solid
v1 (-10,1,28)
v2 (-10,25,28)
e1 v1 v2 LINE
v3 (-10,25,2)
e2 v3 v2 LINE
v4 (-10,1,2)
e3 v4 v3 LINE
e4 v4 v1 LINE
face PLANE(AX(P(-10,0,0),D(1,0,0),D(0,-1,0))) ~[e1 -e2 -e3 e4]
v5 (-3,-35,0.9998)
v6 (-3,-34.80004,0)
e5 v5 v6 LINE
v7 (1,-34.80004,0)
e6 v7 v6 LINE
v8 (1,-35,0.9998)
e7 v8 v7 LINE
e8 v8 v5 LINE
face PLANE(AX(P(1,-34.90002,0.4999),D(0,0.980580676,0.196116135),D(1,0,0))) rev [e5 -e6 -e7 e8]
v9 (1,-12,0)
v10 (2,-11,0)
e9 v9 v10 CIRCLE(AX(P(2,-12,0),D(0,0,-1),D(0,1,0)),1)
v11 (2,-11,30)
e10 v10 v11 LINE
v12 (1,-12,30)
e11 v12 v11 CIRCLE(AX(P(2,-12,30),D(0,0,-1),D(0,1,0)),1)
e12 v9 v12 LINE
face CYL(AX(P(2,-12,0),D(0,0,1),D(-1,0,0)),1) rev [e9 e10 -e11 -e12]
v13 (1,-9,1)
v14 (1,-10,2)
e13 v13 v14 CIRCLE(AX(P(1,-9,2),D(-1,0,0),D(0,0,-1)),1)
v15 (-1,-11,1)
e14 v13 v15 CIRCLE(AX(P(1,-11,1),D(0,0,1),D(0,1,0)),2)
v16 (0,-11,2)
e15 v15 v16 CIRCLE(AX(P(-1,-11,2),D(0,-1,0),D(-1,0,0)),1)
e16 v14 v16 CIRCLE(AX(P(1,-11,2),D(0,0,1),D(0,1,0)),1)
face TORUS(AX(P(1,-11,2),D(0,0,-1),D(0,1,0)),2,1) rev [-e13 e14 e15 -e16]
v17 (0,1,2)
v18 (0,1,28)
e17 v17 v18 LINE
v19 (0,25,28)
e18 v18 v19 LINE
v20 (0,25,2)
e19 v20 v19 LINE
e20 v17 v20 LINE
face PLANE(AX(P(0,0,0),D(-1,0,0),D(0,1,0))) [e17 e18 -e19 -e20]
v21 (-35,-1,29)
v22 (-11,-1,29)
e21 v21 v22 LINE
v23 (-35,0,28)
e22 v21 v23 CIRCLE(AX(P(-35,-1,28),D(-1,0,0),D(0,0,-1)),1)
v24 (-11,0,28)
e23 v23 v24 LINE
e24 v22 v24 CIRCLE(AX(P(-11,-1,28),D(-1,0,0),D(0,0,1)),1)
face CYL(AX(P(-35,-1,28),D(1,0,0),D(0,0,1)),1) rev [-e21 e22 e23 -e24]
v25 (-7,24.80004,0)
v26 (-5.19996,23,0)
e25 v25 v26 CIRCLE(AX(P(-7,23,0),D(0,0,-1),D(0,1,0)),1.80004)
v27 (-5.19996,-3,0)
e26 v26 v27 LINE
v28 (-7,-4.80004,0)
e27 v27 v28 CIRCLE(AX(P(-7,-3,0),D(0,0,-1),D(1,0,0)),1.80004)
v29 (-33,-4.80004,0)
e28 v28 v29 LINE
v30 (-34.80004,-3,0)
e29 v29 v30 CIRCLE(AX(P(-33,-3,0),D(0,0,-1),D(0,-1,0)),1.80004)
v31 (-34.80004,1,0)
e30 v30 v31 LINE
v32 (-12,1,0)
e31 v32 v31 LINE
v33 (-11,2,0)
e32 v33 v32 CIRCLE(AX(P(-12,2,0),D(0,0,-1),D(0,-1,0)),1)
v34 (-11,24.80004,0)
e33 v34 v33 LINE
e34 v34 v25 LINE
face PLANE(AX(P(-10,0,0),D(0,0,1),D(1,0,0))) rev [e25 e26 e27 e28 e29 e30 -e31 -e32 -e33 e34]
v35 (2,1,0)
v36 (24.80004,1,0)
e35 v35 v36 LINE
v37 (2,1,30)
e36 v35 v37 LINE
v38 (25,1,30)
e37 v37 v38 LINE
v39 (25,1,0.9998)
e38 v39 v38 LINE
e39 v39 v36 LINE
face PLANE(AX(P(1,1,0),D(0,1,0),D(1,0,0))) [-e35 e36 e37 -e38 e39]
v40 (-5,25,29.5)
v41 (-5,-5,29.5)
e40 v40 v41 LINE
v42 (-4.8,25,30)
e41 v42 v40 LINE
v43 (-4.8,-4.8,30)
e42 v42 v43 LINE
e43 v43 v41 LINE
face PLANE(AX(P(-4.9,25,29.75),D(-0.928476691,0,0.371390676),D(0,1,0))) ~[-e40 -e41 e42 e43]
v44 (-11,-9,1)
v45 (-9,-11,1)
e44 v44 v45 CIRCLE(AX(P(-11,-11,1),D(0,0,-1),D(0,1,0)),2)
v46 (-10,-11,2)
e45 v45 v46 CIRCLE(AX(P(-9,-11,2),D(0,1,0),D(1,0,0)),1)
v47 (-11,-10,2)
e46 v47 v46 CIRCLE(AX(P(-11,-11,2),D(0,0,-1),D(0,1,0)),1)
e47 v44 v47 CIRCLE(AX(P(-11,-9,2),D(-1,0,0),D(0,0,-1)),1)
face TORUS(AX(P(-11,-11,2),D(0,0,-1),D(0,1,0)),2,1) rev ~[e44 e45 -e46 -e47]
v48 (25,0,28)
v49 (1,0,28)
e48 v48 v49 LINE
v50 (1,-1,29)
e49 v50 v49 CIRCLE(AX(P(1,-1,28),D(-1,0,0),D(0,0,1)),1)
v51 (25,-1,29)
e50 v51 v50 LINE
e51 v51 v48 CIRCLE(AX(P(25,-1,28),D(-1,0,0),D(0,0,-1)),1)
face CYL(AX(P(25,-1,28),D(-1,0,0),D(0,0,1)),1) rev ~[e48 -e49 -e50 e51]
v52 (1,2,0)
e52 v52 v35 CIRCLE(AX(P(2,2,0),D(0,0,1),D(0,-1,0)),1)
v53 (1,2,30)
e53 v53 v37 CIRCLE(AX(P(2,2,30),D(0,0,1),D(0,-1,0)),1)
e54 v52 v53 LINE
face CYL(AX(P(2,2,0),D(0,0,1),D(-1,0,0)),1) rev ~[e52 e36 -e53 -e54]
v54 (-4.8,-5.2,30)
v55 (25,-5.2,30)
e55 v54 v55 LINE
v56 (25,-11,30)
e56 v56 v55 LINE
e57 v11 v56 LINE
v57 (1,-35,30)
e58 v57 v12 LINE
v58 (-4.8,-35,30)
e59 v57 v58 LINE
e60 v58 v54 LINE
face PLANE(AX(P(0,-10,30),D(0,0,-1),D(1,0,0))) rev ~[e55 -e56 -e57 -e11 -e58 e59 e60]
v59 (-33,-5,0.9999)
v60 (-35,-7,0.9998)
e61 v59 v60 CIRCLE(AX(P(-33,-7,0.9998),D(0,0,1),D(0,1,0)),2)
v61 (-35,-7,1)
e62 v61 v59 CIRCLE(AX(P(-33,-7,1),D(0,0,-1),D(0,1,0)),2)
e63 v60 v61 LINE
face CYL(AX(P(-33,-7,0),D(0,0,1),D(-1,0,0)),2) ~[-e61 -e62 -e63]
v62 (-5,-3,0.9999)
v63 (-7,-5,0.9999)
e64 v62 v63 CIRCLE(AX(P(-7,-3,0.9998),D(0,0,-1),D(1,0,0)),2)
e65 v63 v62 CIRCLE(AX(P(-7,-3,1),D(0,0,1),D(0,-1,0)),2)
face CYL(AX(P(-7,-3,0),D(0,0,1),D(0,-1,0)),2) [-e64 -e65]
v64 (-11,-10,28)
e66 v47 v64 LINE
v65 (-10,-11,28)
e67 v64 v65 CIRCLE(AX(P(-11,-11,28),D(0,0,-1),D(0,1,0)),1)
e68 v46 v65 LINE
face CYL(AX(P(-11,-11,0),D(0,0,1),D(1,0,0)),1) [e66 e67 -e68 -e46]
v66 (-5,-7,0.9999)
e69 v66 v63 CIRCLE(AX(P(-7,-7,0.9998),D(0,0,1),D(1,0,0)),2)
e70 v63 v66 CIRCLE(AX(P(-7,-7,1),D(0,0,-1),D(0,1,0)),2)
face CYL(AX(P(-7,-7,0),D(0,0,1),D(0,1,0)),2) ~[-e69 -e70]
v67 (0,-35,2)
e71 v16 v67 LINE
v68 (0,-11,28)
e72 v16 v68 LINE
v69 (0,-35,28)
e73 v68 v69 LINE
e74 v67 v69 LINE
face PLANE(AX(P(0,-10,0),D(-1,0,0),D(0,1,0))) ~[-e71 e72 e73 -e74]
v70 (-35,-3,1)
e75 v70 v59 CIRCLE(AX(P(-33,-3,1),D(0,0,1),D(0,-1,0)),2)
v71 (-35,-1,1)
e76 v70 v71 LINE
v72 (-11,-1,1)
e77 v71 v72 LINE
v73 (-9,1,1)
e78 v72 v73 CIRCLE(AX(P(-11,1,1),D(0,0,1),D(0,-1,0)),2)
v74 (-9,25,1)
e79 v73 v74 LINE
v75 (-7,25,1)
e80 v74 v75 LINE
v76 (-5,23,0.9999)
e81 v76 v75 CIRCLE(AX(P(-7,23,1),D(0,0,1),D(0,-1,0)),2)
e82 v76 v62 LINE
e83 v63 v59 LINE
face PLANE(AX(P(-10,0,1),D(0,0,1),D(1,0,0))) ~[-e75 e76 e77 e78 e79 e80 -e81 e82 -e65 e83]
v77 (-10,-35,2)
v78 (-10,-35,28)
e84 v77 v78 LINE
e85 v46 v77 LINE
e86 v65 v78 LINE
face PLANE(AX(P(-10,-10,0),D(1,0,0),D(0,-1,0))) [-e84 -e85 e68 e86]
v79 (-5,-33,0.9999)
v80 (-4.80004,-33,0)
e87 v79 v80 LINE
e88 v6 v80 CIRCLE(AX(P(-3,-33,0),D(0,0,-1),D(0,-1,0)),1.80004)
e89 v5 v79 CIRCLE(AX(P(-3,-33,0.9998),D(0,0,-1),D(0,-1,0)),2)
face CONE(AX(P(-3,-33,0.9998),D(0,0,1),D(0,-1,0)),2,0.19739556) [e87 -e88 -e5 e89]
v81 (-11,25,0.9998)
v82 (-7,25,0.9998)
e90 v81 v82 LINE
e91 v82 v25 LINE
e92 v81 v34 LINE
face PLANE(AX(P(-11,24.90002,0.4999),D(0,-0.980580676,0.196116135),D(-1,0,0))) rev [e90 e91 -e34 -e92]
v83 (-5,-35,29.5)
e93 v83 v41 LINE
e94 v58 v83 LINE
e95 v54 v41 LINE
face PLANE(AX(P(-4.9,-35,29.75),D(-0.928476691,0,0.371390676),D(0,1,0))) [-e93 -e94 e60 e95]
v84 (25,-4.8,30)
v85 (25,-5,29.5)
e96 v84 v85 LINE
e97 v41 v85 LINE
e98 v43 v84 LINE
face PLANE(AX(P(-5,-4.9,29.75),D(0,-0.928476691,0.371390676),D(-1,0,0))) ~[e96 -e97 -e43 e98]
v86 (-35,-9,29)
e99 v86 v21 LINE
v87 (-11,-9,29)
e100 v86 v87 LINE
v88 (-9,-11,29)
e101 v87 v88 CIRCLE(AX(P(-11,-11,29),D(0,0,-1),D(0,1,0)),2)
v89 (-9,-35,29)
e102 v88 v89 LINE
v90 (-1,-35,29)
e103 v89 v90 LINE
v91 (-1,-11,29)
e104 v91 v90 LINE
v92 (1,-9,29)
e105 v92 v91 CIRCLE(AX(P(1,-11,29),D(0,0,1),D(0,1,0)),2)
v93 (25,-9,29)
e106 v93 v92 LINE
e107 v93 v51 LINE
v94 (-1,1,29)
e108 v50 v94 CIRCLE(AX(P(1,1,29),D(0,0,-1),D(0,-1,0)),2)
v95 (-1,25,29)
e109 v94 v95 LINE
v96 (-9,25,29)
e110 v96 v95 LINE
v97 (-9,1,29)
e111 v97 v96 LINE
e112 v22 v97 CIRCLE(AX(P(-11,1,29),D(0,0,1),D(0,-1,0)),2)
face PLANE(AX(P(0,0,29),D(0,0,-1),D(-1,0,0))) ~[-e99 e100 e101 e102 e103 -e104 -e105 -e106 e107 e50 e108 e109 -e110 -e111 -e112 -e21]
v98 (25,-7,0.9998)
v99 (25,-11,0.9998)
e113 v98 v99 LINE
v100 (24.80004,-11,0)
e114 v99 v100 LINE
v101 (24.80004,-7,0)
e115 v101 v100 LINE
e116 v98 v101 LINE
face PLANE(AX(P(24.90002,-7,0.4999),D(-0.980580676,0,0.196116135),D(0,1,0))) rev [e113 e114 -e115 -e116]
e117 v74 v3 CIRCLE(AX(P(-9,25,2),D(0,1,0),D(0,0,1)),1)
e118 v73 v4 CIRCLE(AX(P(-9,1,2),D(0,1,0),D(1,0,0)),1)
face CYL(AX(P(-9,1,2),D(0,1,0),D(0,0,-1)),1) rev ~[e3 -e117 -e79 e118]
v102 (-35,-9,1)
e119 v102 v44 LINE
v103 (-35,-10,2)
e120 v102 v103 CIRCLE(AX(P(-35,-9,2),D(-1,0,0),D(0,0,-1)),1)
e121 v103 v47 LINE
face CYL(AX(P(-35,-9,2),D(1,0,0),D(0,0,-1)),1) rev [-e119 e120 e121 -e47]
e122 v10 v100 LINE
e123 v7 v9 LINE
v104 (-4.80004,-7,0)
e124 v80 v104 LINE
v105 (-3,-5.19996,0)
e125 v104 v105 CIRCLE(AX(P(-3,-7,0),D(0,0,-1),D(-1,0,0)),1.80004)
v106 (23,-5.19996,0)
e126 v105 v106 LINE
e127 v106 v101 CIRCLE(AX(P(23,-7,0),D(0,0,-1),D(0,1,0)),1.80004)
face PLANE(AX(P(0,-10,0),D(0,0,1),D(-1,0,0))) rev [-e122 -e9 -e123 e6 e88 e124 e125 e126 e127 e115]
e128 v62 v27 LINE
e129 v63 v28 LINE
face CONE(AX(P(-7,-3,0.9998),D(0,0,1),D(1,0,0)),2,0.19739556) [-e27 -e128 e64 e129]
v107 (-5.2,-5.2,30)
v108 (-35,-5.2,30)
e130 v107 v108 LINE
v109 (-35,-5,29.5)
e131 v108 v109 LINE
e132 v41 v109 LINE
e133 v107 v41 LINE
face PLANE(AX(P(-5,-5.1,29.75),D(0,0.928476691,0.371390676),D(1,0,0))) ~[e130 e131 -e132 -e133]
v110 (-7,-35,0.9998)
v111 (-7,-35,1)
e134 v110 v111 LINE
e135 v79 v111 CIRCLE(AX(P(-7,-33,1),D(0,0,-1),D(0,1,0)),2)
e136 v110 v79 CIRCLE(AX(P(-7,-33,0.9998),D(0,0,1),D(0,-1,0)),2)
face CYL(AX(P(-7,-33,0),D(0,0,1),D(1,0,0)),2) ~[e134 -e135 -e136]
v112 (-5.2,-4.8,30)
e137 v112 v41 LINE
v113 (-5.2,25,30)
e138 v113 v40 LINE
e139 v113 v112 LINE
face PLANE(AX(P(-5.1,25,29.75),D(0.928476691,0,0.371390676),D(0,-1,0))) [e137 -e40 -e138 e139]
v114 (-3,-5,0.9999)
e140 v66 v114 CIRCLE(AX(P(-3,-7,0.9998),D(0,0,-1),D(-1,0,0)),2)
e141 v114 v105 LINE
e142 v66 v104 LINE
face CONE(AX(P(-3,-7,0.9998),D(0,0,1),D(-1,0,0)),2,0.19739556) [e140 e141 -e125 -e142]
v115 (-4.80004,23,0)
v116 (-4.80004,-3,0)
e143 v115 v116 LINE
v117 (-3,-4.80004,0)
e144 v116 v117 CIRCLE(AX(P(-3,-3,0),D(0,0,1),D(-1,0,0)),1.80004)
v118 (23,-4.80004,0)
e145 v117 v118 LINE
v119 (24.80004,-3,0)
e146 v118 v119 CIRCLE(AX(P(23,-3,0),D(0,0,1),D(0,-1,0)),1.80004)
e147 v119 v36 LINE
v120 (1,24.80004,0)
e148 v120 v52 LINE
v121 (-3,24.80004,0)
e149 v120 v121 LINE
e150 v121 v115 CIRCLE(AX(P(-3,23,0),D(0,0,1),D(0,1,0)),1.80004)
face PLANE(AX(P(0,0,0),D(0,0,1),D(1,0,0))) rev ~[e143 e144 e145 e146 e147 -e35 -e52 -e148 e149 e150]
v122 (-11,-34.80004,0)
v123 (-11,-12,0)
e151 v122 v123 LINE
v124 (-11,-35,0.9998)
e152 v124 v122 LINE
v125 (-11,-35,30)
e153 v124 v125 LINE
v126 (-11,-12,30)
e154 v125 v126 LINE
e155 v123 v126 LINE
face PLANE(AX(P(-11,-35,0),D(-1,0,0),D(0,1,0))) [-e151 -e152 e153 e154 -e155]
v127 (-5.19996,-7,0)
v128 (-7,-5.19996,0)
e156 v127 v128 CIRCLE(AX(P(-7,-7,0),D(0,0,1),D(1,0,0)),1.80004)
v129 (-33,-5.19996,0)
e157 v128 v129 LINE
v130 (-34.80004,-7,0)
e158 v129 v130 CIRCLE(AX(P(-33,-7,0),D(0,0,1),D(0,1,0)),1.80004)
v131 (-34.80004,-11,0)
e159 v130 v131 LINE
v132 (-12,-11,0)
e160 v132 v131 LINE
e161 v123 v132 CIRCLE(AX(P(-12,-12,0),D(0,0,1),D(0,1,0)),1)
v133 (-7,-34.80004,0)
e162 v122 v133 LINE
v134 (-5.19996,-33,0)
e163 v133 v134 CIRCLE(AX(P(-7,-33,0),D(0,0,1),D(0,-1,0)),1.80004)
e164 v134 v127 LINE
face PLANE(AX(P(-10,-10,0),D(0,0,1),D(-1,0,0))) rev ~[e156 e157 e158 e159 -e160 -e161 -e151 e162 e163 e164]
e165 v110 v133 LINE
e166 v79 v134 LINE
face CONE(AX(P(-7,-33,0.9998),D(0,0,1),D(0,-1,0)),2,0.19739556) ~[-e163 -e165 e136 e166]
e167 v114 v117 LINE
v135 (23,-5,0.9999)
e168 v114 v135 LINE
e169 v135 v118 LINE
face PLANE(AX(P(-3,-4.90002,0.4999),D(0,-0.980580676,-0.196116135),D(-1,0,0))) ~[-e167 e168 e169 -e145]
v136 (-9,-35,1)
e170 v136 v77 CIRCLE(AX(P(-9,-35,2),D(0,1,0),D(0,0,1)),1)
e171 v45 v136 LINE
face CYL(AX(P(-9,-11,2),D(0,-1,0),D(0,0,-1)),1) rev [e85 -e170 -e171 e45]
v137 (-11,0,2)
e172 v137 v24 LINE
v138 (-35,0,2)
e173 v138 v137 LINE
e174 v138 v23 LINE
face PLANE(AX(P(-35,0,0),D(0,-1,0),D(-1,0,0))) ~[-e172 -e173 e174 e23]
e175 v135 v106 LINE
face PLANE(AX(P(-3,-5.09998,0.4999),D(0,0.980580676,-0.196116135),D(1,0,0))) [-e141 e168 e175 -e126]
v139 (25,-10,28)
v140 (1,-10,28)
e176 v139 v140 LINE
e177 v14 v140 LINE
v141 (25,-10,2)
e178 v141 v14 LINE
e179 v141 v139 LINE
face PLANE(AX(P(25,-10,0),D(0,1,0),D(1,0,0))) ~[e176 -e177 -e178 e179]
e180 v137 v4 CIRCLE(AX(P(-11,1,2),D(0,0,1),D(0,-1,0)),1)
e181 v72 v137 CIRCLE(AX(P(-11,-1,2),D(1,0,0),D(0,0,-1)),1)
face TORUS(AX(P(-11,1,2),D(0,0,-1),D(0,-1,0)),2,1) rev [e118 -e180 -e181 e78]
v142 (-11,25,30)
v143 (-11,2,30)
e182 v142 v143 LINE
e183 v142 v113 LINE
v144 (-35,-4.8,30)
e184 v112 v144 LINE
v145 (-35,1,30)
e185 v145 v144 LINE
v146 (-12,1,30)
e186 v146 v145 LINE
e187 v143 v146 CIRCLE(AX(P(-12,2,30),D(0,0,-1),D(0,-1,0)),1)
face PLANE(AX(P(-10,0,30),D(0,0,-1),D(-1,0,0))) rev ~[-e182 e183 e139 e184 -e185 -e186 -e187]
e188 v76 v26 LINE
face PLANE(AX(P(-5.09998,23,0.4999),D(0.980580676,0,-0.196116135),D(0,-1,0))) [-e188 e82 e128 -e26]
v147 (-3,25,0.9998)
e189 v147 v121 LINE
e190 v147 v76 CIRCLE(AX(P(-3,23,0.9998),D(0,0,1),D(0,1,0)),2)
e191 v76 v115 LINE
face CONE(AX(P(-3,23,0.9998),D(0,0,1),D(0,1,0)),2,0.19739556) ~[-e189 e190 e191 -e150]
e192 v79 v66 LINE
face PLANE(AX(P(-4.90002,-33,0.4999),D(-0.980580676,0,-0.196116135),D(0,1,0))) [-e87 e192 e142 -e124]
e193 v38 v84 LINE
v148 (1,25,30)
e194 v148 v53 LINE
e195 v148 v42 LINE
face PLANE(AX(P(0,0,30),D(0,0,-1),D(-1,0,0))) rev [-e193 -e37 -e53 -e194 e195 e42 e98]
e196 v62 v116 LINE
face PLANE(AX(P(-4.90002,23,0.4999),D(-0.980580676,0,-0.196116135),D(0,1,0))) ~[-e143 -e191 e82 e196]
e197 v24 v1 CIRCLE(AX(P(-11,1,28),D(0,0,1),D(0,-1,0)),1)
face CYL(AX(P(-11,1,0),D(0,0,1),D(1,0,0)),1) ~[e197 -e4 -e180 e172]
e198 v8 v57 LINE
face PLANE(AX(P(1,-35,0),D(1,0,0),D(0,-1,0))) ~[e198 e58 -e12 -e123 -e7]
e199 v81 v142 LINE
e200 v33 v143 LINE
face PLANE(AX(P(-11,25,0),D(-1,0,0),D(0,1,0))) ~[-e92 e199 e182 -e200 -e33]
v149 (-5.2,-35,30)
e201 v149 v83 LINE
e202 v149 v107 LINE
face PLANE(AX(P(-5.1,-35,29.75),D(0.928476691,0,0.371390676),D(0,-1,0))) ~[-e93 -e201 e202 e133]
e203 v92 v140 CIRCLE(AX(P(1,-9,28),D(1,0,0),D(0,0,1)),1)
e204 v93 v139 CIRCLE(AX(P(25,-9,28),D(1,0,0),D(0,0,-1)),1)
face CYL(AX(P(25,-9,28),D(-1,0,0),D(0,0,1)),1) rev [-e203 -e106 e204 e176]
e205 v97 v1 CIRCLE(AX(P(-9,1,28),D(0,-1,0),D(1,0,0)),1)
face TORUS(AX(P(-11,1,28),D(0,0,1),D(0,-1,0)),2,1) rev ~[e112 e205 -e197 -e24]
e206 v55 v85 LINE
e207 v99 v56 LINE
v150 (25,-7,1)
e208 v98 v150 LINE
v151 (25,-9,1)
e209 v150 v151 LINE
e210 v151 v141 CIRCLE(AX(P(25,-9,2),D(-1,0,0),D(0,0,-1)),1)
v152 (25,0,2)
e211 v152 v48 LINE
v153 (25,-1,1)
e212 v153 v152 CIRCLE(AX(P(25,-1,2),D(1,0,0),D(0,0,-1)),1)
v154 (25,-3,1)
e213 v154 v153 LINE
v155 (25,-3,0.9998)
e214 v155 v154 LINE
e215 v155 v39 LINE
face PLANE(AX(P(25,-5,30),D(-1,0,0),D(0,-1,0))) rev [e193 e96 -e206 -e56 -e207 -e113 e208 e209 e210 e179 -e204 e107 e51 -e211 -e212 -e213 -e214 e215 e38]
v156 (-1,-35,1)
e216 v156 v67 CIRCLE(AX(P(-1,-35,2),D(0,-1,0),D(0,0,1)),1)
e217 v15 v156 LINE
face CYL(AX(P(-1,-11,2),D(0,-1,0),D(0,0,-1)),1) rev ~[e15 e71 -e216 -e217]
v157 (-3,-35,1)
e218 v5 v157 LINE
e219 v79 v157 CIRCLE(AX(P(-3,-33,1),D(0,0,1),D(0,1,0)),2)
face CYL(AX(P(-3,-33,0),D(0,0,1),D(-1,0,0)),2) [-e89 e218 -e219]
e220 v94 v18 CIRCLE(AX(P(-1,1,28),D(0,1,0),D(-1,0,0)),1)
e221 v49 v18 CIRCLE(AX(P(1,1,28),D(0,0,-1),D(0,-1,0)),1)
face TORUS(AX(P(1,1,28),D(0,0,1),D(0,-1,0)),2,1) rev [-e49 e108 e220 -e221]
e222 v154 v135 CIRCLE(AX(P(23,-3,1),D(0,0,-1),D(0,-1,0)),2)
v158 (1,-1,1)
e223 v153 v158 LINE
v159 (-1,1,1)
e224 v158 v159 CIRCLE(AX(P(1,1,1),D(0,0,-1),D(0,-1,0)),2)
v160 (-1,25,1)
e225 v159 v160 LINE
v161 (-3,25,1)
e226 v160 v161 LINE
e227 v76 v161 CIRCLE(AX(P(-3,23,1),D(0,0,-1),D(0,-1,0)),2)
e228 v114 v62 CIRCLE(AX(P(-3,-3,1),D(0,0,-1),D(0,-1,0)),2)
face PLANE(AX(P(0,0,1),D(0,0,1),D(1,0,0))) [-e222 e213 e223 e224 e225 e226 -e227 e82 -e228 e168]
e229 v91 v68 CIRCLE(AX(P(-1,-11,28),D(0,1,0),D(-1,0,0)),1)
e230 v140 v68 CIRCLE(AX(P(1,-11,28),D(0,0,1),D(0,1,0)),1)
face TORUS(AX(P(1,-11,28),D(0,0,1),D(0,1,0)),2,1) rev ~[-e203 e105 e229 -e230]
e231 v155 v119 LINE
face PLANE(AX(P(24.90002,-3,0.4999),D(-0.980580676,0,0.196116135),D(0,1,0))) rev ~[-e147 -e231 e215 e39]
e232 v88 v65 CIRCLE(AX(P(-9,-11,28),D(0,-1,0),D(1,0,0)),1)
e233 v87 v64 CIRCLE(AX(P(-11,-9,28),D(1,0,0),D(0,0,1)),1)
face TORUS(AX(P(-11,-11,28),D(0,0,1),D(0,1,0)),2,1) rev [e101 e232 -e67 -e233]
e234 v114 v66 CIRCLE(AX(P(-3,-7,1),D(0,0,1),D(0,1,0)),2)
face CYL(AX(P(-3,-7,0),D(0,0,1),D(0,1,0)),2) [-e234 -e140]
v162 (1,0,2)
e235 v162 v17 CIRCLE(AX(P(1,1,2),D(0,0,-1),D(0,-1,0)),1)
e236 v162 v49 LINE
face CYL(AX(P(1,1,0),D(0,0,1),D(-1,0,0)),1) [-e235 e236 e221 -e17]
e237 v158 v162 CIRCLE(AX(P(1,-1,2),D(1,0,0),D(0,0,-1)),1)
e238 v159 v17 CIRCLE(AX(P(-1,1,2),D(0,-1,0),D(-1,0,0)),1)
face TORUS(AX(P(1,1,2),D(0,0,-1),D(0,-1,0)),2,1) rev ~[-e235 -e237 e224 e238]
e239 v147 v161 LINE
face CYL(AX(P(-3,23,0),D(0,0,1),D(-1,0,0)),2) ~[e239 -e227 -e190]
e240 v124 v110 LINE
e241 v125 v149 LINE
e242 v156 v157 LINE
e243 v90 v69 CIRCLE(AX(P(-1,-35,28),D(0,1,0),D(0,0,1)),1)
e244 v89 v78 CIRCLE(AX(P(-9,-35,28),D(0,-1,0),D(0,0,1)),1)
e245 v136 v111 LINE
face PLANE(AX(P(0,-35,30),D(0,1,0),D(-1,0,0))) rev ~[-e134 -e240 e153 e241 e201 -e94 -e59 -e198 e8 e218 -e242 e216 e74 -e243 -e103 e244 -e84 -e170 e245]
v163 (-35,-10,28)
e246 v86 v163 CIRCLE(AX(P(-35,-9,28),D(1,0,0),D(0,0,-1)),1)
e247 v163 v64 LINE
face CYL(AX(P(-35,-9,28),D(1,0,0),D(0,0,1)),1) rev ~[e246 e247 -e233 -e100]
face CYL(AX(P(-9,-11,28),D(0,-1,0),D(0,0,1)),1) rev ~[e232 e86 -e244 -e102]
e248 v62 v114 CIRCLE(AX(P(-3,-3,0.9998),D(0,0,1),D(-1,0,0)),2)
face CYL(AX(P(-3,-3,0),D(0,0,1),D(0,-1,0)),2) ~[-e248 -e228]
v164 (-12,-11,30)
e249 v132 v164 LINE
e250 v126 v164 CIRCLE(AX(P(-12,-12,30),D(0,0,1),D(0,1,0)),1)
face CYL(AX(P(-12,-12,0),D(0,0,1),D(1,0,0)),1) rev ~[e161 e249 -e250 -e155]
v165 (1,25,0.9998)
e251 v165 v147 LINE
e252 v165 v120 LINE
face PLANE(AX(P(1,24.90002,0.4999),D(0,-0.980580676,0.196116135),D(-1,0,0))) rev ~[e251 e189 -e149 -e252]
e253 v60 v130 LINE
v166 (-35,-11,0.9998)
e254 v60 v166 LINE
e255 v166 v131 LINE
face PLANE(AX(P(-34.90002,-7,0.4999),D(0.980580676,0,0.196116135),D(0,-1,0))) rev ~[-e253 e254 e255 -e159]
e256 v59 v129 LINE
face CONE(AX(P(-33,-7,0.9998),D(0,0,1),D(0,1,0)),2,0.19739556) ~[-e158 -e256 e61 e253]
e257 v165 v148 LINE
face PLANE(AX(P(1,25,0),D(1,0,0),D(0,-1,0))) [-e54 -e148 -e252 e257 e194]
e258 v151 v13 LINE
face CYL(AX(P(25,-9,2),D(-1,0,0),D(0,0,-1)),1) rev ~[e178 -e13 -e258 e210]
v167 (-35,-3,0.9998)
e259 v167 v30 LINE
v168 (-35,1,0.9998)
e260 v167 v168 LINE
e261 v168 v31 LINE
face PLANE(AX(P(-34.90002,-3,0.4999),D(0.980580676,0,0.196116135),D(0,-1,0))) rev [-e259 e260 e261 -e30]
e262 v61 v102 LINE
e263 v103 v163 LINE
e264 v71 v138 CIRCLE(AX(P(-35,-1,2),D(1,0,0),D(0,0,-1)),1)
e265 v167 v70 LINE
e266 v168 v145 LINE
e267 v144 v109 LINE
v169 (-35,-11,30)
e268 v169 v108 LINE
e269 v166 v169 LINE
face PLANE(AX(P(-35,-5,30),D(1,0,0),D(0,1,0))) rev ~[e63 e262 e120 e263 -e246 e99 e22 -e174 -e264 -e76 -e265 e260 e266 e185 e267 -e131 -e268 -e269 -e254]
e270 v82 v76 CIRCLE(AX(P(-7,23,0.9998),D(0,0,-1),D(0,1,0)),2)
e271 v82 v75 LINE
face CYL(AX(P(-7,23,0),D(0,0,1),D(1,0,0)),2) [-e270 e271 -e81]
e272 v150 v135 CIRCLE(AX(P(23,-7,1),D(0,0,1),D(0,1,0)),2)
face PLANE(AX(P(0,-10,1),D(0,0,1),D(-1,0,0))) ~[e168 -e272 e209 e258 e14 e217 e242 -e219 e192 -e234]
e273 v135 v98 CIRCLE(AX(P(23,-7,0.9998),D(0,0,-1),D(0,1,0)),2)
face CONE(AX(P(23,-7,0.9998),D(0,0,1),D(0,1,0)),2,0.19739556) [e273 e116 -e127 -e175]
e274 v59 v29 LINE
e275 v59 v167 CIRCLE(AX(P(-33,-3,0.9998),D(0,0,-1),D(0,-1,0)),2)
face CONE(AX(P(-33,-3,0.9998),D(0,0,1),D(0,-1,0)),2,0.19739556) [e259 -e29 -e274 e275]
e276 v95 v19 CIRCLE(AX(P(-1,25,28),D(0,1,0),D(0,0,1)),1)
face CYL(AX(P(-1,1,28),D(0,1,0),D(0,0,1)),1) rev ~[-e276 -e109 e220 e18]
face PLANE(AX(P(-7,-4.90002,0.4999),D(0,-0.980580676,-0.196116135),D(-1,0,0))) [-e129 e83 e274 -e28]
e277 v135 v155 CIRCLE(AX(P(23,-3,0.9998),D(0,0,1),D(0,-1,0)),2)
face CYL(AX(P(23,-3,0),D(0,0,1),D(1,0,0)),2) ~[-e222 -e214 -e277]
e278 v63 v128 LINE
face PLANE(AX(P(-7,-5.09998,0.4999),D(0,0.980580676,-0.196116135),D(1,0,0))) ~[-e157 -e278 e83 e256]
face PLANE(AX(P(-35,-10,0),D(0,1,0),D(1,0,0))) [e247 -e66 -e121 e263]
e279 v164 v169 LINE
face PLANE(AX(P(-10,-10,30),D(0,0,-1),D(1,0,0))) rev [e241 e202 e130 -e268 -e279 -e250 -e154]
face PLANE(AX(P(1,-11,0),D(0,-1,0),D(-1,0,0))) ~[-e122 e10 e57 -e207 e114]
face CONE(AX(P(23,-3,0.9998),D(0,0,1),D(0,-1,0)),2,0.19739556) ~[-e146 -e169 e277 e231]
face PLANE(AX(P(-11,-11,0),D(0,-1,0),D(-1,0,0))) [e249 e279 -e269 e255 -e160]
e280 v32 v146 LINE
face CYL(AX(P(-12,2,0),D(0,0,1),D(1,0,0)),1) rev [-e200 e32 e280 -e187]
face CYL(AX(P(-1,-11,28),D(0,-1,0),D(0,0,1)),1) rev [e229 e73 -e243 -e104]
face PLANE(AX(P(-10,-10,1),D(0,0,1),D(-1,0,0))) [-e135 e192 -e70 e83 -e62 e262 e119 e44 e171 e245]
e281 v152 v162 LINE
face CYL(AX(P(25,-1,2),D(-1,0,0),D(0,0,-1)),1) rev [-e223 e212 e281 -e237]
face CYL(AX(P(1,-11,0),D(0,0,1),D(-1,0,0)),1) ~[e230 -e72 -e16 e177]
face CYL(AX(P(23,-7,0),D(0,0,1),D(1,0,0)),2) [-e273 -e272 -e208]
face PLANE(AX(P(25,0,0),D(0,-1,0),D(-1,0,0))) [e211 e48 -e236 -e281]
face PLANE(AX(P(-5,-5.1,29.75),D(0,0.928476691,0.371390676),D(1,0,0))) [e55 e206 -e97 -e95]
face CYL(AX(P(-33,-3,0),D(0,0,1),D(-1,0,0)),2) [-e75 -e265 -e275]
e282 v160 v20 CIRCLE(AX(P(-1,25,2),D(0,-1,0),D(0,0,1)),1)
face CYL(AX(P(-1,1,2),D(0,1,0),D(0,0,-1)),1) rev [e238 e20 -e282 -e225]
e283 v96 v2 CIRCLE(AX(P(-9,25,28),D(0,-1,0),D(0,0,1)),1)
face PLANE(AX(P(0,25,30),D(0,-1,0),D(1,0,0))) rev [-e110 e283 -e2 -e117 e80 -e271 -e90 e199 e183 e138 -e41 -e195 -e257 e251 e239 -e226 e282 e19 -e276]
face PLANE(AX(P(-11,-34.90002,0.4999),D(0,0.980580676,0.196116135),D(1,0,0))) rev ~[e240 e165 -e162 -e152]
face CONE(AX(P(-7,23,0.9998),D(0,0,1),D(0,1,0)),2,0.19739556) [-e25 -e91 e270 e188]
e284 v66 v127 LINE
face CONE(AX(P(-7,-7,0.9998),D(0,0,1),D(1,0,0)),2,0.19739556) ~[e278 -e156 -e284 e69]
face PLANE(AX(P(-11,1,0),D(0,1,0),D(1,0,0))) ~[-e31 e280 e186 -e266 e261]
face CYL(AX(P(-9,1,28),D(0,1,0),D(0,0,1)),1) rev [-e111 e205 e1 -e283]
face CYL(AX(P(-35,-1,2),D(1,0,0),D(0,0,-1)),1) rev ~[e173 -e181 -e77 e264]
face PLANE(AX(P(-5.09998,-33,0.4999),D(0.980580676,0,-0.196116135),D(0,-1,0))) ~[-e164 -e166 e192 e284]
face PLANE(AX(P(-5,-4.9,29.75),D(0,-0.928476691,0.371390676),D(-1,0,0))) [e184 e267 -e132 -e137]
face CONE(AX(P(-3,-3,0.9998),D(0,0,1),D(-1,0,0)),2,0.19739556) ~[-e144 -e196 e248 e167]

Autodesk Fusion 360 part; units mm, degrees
sketch "Sketch1" plane through (0, 0, 0) normal (0, 0, 1) x (1, 0, 0)
  line L0 (0, 0) -> (0, 25)
  line L1 (0, 25) -> (1, 25)
  line L2 (1, 25) -> (1, 1)
  line L3 (1, 1) -> (25, 1)
  line L4 (25, 1) -> (25, 0)
  line L5 (25, 0) -> (0, 0)
  dimension "d1" = 1
  dimension "d2" = 25
  dimension "d3" = 25
extrude "Extrude2" add sketch "Sketch1" along normal blind 30
fillet "Fillet2" radius 1 2 edges at (1, 1, 15) (0, 0, 15)
ref_plane "WorkPlane1" through (12.5, 12.5, 15) normal (0, 0, 1) x (1, 0, 0)
sketch "Sketch3" plane through (0, 0, 0) normal (0, 0, 1) x (1, 0, 0)
  arc A0 (0, 1) -> (1, 0) centre (1, 1) ccw
  line L0 (0, 1) -> (0, 25)
  line L1 (0, 25) -> (1, 25)
  line L2 (1, 25) -> (1, 2)
  arc A1 (1, 2) -> (2, 1) centre (2, 2) ccw
  line L3 (2, 1) -> (25, 1)
  line L4 (25, 1) -> (25, 0)
  line L5 (25, 0) -> (1, 0)
  line L6 (0, 25) -> (-5, 25)
  line L7 (-5, 25) -> (-5, -5)
  line L8 (-5, -5) -> (25, -5)
  line L9 (25, -5) -> (25, 0)
  dimension "d16" = 5
extrude "Extrude3" add sketch "Sketch3" along normal blind 1 contours A0 L0 L5 L6 L7 L8 L9
fillet "Fillet3" radius 1 3 edges at (0, 13, 1) (0.2929, 0.2929, 1) (13, 0, 1)
fillet "Fillet4" radius 2 3 edges at (-5, -5, 0.5) (25, -5, 0.5) (-5, 25, 0.5)
mirror "Mirror1" about plane through (12.5, 12.5, 15) normal (0, 0, 1) of "Extrude3", "Fillet3"
chamfer "Chamfer2" distance 0.2 distance2 0.5 2 edges at (-5, 10, 30) (10, -5, 30) measured on face at (-3, 7.3333, 30) measured on face at (-3, 7.3333, 30)
chamfer "Chamfer3" distance 1 distance2 0.2 7 edges at (-5, 10, 0) (-4.4142, -4.4142, 0) (10, -5, 0) (24.4142, -4.4142, 0) (25, -1, 0) (-1, 25, 0) (-4.4142, 24.4142, 0) measured on face at (-5, 14.3333, 0.3333) measured on face at (-4, -4.7321, 0.3333) measured on face at (5.6667, -5, 0.3333) measured on face at (23.0952, -4.9977, 0.3333) measured on face at (-3, 7.3333, 0) measured on face at (-3, 7.3333, 0) measured on face at (-3.0952, 24.9977, 0.3333)
ref_plane "WorkPlane2" through (-5, 23, 1) normal (1, 0, 0) x (0, 1, 0)
mirror "Mirror2" about plane through (-5, 23, 1) normal (1, 0, 0) of bodies 1 merged
ref_plane "WorkPlane3" through (-3, -5, 1) normal (0, 1, 0) x (-1, 0, 0)
mirror "Mirror3" about plane through (-3, -5, 1) normal (0, 1, 0) of bodies 1 merged
equation "BumpDistance = 5 mm"
